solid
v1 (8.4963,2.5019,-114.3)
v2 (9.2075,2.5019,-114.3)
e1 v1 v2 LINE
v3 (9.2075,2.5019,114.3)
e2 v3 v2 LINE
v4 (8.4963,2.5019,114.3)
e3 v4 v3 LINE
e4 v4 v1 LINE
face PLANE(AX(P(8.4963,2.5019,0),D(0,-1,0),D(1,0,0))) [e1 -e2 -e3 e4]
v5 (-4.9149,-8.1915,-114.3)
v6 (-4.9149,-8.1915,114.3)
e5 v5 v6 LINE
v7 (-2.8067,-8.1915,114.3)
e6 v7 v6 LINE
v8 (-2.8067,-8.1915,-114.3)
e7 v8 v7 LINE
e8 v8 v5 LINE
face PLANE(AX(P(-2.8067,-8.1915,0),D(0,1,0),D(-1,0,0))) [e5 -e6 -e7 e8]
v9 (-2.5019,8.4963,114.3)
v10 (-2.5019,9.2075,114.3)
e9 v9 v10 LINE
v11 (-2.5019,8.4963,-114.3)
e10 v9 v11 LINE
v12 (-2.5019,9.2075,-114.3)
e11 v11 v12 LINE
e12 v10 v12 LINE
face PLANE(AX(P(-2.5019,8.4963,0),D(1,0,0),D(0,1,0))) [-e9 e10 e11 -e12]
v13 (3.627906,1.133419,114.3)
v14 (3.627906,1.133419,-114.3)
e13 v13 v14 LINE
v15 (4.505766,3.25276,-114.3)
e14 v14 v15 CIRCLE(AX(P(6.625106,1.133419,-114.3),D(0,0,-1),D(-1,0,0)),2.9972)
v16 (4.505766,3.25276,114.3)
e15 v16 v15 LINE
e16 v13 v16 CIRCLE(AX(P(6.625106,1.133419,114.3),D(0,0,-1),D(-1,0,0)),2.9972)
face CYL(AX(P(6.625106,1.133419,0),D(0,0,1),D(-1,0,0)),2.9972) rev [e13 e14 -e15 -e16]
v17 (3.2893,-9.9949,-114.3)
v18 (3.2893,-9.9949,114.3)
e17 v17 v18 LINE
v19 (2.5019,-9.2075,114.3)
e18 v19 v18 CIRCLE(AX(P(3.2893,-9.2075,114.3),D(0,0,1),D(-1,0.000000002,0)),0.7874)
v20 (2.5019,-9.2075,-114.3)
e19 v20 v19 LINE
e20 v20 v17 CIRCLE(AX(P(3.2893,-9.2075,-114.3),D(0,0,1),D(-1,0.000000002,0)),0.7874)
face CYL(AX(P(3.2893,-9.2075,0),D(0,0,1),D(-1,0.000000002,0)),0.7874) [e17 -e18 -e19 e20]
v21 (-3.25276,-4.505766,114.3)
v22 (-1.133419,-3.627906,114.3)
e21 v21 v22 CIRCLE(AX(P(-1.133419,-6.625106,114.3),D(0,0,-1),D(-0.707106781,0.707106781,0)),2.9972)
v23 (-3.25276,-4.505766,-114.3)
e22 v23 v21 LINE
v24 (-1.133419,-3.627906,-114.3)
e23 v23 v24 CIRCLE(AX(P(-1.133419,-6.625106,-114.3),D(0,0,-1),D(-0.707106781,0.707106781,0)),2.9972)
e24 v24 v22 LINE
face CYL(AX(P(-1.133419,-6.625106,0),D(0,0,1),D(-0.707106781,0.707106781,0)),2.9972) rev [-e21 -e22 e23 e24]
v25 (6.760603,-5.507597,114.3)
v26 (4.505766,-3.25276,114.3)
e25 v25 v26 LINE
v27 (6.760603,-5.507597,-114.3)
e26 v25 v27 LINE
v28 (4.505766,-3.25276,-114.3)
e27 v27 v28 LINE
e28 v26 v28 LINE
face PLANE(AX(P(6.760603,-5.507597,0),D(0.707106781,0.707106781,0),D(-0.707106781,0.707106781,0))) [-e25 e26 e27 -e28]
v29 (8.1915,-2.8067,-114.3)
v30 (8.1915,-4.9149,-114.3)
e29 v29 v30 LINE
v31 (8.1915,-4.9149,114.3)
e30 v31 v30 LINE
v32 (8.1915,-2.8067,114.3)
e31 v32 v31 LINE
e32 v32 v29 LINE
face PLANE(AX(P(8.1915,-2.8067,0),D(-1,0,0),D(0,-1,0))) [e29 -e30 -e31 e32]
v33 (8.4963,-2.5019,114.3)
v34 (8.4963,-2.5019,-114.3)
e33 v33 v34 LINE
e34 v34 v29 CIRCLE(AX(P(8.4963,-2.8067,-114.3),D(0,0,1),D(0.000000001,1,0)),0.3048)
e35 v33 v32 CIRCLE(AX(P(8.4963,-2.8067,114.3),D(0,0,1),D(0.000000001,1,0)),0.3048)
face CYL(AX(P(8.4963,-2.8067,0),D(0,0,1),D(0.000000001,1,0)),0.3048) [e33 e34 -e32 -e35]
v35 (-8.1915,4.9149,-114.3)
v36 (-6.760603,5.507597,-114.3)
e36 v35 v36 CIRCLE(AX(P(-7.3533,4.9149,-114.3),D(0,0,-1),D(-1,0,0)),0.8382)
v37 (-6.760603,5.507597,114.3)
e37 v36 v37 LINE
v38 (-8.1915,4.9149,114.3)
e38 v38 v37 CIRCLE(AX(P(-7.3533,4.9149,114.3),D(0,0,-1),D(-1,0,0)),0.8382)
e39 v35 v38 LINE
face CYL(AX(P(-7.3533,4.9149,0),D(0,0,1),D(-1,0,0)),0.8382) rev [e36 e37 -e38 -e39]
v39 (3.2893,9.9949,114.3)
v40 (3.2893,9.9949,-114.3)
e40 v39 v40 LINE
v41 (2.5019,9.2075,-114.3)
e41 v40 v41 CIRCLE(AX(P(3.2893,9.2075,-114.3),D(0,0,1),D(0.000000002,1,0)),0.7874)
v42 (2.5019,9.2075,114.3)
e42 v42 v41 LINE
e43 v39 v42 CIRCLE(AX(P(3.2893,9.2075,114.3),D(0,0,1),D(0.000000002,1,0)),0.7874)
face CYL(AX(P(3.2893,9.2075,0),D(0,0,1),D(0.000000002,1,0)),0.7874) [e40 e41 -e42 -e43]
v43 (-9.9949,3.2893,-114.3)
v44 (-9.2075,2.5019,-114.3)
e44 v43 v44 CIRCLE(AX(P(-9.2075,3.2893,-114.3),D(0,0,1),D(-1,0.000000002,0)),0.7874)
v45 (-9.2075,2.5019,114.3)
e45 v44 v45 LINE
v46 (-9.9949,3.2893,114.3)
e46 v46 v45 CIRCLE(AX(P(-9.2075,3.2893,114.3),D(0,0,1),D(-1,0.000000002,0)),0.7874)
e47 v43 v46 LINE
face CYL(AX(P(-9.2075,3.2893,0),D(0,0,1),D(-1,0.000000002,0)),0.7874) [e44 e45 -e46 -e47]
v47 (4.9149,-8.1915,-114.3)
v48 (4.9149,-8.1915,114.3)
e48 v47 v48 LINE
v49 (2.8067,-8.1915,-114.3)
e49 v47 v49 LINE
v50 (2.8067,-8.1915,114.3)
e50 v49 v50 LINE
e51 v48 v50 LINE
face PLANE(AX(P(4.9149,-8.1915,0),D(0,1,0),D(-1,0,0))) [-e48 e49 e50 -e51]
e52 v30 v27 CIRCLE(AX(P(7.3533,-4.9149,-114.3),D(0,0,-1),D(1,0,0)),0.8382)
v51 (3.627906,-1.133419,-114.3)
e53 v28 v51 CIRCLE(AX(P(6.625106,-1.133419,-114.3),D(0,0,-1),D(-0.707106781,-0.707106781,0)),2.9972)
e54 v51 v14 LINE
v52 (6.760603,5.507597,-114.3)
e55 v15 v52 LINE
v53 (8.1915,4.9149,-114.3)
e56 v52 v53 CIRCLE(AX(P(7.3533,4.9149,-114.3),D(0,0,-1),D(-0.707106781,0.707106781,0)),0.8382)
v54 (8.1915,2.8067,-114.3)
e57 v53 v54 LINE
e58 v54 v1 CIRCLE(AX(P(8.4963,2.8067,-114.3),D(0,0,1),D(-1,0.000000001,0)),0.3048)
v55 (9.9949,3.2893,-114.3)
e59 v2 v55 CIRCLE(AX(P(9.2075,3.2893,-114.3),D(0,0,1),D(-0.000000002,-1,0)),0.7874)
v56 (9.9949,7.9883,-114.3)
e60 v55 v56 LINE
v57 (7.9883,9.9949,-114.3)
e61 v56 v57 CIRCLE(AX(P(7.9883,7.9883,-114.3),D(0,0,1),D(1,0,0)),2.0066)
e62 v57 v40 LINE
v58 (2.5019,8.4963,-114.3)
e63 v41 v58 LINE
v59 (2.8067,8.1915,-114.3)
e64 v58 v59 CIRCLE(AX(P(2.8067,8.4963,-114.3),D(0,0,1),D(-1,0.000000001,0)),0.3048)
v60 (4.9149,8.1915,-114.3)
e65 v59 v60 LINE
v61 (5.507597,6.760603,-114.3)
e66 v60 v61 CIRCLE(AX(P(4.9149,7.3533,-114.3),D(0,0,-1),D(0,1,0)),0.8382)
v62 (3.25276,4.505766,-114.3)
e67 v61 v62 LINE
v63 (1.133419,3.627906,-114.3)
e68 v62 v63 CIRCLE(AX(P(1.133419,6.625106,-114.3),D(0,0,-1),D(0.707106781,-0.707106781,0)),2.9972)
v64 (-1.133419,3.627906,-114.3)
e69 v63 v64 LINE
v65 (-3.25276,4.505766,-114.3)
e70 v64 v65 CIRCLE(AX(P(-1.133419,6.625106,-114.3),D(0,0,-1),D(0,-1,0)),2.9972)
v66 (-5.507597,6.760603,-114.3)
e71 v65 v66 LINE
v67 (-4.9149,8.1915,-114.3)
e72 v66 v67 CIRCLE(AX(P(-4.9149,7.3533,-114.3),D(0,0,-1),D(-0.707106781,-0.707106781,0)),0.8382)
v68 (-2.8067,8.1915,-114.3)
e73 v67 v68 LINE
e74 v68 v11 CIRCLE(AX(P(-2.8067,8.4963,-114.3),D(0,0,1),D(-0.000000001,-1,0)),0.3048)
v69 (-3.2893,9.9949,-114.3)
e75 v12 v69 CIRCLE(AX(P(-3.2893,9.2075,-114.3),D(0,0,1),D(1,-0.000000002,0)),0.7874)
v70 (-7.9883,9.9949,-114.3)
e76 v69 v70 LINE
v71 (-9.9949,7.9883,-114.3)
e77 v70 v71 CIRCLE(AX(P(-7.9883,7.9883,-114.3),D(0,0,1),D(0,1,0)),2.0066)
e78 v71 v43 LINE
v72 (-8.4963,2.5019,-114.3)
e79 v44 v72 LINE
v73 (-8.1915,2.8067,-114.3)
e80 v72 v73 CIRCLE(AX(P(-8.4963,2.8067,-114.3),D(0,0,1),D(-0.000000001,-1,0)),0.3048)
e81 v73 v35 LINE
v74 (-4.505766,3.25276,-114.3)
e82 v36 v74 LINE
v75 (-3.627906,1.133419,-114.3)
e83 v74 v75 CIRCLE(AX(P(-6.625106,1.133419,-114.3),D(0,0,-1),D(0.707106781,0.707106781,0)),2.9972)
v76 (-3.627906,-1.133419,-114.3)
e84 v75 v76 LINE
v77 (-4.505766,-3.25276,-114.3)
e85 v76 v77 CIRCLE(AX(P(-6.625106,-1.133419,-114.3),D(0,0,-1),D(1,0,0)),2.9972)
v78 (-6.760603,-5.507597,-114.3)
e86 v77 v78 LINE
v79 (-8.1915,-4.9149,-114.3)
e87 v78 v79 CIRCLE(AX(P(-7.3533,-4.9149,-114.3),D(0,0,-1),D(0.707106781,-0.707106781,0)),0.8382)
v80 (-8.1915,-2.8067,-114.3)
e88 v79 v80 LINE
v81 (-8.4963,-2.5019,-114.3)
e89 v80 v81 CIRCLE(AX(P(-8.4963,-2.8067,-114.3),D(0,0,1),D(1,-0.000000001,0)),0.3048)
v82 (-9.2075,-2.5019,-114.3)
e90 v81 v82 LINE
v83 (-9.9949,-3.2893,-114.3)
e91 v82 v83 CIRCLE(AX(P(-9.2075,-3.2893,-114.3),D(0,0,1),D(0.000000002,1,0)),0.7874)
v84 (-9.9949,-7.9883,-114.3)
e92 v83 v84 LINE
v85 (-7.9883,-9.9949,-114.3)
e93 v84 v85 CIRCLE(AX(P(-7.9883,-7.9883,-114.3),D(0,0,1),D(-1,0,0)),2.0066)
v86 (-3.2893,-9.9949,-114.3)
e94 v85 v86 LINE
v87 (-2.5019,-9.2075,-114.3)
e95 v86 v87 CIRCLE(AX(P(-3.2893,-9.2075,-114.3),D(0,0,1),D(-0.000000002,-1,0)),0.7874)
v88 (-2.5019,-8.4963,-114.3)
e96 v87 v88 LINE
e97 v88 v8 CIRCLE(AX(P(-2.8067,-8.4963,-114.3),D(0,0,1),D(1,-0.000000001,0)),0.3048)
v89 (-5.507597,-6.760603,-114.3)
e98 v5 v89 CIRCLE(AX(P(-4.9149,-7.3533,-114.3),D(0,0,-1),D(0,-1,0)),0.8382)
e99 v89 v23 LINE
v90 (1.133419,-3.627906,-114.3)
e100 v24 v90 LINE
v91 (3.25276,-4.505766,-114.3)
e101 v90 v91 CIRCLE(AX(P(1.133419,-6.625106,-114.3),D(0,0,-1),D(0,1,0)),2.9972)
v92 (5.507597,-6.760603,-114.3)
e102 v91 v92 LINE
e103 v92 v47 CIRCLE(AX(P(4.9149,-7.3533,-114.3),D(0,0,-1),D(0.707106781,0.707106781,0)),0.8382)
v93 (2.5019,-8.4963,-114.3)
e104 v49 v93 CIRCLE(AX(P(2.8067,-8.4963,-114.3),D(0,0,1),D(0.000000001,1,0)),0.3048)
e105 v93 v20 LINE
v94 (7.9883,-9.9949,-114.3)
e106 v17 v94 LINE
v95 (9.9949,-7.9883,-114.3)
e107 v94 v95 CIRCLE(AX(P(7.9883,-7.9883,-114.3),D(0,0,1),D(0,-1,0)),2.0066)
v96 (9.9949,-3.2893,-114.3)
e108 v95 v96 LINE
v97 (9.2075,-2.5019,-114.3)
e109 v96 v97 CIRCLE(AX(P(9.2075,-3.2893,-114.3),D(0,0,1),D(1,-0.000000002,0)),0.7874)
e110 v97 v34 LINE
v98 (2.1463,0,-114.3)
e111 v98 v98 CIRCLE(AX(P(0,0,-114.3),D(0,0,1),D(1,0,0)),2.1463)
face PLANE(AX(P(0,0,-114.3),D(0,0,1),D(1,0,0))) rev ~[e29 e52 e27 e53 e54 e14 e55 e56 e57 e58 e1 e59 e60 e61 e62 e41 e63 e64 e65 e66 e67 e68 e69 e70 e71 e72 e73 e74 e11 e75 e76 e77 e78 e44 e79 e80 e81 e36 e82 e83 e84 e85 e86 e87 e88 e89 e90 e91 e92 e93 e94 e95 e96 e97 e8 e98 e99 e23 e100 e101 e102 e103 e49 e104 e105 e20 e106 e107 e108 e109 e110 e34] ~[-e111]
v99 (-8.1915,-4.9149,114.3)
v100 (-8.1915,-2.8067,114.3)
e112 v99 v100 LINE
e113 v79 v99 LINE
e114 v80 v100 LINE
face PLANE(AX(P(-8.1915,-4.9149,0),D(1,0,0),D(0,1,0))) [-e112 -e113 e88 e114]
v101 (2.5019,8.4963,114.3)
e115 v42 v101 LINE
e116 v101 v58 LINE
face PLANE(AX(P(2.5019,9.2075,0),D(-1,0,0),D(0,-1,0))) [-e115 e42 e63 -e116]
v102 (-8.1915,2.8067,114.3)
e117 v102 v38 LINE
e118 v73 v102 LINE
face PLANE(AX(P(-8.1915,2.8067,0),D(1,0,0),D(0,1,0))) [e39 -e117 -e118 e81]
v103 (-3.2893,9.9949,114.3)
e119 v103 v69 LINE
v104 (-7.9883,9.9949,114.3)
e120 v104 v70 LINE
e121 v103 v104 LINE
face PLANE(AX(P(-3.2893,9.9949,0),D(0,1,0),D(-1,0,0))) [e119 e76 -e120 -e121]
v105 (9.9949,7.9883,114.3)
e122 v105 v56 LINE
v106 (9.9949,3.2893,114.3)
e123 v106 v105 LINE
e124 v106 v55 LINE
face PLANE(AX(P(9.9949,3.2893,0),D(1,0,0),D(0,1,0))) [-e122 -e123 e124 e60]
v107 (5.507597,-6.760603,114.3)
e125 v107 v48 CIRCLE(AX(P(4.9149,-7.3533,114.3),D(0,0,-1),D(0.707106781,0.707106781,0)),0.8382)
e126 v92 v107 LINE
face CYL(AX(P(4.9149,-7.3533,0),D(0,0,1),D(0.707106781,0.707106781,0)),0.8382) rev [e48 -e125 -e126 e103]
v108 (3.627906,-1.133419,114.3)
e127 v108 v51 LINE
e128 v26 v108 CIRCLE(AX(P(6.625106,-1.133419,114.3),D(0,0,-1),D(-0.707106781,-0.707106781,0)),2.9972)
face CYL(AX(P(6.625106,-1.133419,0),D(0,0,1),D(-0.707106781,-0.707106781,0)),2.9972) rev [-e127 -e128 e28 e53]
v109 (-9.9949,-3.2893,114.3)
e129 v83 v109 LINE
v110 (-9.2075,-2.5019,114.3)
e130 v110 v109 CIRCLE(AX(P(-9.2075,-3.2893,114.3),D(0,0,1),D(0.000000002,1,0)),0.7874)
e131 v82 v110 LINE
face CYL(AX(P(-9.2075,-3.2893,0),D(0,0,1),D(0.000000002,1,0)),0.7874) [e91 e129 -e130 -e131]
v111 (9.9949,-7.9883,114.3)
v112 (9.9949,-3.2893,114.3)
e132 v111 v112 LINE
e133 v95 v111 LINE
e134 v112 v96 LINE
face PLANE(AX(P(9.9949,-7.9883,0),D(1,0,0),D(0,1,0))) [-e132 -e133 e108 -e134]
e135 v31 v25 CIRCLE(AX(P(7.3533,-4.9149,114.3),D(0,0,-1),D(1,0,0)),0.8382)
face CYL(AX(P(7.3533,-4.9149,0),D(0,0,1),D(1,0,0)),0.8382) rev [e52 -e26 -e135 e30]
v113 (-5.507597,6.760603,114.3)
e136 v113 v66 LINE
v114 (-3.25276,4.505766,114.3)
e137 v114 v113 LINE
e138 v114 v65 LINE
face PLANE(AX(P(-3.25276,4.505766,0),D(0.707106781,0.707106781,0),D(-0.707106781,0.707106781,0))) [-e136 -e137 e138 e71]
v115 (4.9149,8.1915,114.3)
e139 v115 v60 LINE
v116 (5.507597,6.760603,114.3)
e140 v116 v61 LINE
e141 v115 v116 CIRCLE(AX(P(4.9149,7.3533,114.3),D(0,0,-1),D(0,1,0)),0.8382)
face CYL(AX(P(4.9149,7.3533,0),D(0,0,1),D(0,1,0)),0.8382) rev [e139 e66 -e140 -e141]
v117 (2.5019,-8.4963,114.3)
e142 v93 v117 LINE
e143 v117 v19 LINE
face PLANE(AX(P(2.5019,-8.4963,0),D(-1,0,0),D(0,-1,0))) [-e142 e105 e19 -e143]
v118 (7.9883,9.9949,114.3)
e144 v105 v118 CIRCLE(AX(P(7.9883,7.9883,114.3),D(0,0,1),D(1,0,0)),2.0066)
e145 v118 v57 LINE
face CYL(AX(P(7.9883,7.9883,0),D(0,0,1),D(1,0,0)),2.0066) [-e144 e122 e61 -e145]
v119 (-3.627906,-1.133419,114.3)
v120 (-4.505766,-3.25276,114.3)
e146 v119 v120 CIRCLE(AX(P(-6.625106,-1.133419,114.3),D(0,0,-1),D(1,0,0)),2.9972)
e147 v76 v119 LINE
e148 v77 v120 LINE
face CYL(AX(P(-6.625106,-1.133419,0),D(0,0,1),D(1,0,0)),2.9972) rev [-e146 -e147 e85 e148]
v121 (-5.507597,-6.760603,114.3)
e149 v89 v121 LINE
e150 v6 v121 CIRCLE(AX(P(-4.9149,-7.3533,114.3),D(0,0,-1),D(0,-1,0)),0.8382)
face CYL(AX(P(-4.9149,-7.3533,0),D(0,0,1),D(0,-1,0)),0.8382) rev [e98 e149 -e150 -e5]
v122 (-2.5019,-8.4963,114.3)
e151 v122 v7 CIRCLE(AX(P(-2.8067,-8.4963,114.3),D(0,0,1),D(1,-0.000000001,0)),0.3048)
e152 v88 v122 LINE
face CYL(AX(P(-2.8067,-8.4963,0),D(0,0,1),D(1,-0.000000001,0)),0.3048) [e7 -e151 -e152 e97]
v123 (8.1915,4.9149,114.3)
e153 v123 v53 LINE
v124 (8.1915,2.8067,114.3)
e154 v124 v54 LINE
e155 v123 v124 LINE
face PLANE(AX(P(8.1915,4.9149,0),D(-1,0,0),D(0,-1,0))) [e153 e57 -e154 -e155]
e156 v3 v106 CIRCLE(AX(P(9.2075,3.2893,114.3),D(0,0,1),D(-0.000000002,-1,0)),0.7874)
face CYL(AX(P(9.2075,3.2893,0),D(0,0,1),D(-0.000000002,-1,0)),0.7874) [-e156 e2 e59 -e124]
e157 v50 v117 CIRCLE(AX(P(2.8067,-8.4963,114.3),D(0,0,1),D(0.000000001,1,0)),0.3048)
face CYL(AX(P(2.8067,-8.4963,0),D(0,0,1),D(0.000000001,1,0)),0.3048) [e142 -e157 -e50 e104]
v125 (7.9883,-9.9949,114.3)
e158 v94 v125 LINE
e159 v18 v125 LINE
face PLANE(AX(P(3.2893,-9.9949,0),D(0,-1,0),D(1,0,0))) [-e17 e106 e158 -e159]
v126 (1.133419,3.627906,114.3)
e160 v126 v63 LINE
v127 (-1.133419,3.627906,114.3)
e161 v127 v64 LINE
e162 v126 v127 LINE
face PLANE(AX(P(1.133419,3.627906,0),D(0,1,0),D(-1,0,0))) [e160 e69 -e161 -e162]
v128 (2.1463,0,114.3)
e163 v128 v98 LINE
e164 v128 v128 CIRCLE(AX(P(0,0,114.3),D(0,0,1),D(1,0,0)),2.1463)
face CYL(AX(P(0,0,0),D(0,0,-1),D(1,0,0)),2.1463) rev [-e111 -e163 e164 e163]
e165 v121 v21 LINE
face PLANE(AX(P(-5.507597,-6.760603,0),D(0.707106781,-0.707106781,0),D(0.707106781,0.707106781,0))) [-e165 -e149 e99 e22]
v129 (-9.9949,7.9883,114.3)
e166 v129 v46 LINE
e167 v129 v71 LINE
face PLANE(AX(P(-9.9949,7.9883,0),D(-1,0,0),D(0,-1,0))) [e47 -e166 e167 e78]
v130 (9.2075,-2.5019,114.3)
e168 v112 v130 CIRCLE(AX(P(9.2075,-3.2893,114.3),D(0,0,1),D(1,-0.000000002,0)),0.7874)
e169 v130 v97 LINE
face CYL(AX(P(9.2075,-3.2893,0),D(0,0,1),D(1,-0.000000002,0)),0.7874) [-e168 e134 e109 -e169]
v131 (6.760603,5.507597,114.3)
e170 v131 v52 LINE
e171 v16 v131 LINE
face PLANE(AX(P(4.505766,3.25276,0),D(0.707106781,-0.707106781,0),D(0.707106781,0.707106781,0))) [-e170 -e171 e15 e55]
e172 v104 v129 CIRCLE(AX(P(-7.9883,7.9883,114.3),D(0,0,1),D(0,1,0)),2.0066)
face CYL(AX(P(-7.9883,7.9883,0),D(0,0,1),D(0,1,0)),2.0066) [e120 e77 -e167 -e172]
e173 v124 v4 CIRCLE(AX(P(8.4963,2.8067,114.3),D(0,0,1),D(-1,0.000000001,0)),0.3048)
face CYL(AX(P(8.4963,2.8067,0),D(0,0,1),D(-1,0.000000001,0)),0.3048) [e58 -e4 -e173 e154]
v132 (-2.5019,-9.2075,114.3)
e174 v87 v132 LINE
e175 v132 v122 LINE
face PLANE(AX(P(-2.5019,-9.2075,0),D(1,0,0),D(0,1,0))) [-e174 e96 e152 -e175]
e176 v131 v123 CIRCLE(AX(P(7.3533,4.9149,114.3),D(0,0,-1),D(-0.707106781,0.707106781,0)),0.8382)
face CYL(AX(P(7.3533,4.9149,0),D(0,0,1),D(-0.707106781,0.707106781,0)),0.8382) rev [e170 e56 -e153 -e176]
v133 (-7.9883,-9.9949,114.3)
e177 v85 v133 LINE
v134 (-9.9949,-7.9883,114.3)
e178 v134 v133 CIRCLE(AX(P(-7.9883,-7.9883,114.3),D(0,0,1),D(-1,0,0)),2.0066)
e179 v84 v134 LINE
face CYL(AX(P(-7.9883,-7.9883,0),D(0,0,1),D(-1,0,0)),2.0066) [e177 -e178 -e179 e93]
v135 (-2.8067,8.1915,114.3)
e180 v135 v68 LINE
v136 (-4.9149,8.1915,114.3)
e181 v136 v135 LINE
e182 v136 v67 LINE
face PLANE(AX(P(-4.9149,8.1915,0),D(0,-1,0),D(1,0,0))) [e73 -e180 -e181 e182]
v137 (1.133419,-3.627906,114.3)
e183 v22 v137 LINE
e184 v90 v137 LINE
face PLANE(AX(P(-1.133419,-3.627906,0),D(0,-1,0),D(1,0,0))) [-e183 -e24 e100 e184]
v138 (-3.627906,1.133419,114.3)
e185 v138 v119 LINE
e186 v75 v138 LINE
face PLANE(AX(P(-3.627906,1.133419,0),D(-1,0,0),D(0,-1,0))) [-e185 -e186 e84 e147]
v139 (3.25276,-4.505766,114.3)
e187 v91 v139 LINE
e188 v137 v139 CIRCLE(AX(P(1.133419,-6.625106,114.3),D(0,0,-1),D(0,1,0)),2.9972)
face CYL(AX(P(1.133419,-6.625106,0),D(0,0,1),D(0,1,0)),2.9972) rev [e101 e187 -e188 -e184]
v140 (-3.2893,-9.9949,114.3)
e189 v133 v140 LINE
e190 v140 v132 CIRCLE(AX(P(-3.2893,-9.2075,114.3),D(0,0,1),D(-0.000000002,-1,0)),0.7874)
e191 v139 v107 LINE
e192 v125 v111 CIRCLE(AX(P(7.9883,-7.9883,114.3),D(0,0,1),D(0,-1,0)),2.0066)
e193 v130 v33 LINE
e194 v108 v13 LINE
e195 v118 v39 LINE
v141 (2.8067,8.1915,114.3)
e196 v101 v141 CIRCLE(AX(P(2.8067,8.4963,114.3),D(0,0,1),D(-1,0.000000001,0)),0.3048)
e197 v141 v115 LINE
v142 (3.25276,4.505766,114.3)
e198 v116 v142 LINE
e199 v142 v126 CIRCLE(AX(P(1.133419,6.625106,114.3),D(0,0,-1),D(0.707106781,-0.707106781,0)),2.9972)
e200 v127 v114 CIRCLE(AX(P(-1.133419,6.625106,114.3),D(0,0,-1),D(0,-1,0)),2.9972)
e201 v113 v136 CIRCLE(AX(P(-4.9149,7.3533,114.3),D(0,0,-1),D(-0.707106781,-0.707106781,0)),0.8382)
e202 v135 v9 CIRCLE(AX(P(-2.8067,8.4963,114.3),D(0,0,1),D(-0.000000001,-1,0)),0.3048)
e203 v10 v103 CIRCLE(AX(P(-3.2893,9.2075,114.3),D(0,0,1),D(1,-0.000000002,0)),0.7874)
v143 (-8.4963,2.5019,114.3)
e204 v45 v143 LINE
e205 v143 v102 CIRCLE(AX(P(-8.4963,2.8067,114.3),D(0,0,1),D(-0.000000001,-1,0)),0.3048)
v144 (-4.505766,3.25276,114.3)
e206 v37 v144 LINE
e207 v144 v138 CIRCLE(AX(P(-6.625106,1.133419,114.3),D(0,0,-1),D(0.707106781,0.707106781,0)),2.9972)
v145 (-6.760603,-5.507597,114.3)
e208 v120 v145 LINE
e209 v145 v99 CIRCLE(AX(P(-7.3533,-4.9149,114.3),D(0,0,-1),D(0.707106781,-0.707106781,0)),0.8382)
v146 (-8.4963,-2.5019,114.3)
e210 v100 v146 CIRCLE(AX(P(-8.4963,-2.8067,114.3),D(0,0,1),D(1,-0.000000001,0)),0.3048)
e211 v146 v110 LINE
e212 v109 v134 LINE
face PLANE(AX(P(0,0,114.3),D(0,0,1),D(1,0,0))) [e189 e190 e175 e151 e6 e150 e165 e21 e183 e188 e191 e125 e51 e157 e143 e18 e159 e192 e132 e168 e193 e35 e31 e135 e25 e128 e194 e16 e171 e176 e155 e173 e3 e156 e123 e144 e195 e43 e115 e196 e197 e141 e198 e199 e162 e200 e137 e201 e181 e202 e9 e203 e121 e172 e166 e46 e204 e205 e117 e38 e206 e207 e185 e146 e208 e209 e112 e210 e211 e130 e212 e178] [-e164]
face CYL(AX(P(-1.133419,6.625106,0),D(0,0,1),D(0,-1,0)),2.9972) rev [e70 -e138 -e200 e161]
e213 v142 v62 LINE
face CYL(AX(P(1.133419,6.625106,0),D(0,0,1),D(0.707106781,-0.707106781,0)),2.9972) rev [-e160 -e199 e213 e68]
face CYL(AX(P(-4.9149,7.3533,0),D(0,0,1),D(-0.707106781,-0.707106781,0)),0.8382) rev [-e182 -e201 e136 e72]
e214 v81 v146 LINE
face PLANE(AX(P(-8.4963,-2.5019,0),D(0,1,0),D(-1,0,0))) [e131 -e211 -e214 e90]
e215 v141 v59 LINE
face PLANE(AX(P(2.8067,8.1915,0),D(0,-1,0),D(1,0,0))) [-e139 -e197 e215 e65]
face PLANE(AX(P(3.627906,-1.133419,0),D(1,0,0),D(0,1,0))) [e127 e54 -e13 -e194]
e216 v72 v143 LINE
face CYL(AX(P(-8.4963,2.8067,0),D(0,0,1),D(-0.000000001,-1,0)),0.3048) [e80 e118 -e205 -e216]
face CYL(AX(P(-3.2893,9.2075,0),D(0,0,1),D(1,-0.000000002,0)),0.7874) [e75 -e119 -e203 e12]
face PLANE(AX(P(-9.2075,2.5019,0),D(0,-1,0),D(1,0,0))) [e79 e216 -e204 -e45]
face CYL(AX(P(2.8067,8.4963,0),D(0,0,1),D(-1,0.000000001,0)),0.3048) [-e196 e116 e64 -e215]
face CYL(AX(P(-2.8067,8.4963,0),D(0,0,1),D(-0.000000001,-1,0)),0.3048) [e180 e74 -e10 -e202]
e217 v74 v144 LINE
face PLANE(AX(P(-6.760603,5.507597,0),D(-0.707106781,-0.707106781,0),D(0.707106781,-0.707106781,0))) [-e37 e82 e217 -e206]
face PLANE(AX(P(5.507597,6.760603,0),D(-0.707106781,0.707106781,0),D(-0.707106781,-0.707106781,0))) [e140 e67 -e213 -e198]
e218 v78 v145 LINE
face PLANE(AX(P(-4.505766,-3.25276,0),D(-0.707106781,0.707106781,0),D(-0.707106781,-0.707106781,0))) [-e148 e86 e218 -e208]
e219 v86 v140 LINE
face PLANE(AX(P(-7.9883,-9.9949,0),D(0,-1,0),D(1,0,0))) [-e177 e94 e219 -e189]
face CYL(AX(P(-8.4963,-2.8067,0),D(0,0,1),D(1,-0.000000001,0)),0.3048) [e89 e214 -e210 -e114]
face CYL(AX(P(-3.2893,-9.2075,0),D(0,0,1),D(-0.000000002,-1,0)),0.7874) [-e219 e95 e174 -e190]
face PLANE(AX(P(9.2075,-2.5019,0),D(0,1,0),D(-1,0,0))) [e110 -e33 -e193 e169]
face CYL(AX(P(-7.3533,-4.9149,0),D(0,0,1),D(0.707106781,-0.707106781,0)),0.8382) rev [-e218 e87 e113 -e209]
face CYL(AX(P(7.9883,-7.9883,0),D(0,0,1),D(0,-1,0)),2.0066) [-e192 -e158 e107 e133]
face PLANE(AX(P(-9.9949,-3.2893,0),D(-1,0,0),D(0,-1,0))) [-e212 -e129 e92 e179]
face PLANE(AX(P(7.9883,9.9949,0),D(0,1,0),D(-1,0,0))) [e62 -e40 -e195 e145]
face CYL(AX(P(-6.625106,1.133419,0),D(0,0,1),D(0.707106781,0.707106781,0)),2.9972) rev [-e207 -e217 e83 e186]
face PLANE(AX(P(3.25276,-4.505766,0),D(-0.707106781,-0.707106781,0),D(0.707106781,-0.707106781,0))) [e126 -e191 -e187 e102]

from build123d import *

# Parameters (mm, degrees)
SKETCH1_R           = 2.1463
BOSS_EXTRUDE1_DEPTH = 114.3


with BuildPart() as part:
    # Sketch1 → Boss-Extrude1 (new, symmetric)
    with BuildSketch(Plane.XY):
        with BuildLine():
            Line((-9.9949, 7.9883), (-9.9949, 3.2893))
            ThreePointArc((-9.9949, 3.2893), (-9.76427588, 2.73252412), (-9.2075, 2.5019))
            Line((-9.2075, 2.5019), (-8.4963, 2.5019))
            ThreePointArc((-8.4963, 2.5019), (-8.280773853, 2.591173853), (-8.1915, 2.8067))
            Line((-8.1915, 2.8067), (-8.1915, 4.9149))
            ThreePointArc((-8.1915, 4.9149), (-7.674065253, 5.689295824), (-6.760603096, 5.507596904))
            Line((-6.760603096, 5.507596904), (-4.505765747, 3.252759555))
            ThreePointArc((-4.505765747, 3.252759555), (-3.856054457, 2.280397894), (-3.627906192, 1.133419111))
            Line((-3.627906192, 1.133419111), (-3.627906192, -1.133419111))
            ThreePointArc((-3.627906192, -1.133419111), (-3.856054457, -2.280397894), (-4.505765747, -3.252759555))
            Line((-4.505765747, -3.252759555), (-6.760603096, -5.507596904))
            ThreePointArc((-6.760603096, -5.507596904), (-7.674065253, -5.689295824), (-8.1915, -4.9149))
            Line((-8.1915, -4.9149), (-8.1915, -2.8067))
            ThreePointArc((-8.1915, -2.8067), (-8.280773853, -2.591173853), (-8.4963, -2.5019))
            Line((-8.4963, -2.5019), (-9.2075, -2.5019))
            ThreePointArc((-9.2075, -2.5019), (-9.76427588, -2.73252412), (-9.9949, -3.2893))
            Line((-9.9949, -3.2893), (-9.9949, -7.9883))
            ThreePointArc((-9.9949, -7.9883), (-9.407180467, -9.407180467), (-7.9883, -9.9949))
            Line((-7.9883, -9.9949), (-3.2893, -9.9949))
            ThreePointArc((-3.2893, -9.9949), (-2.73252412, -9.76427588), (-2.5019, -9.2075))
            Line((-2.5019, -9.2075), (-2.5019, -8.4963))
            ThreePointArc((-2.5019, -8.4963), (-2.591173853, -8.280773853), (-2.8067, -8.1915))
            Line((-2.8067, -8.1915), (-4.9149, -8.1915))
            ThreePointArc((-4.9149, -8.1915), (-5.689295824, -7.674065253), (-5.507596904, -6.760603096))
            Line((-5.507596904, -6.760603096), (-3.252759555, -4.505765747))
            ThreePointArc((-3.252759555, -4.505765747), (-2.280397894, -3.856054457), (-1.133419111, -3.627906192))
            Line((-1.133419111, -3.627906192), (1.133419111, -3.627906192))
            ThreePointArc((1.133419111, -3.627906192), (2.280397894, -3.856054457), (3.252759555, -4.505765747))
            Line((3.252759555, -4.505765747), (5.507596904, -6.760603096))
            ThreePointArc((5.507596904, -6.760603096), (5.689295824, -7.674065253), (4.9149, -8.1915))
            Line((4.9149, -8.1915), (2.8067, -8.1915))
            ThreePointArc((2.8067, -8.1915), (2.591173853, -8.280773853), (2.5019, -8.4963))
            Line((2.5019, -8.4963), (2.5019, -9.2075))
            ThreePointArc((2.5019, -9.2075), (2.73252412, -9.76427588), (3.2893, -9.9949))
            Line((3.2893, -9.9949), (7.9883, -9.9949))
            ThreePointArc((7.9883, -9.9949), (9.407180467, -9.407180467), (9.9949, -7.9883))
            Line((9.9949, -7.9883), (9.9949, -3.2893))
            ThreePointArc((9.9949, -3.2893), (9.76427588, -2.73252412), (9.2075, -2.5019))
            Line((9.2075, -2.5019), (8.4963, -2.5019))
            ThreePointArc((8.4963, -2.5019), (8.280773853, -2.591173853), (8.1915, -2.8067))
            Line((8.1915, -2.8067), (8.1915, -4.9149))
            ThreePointArc((8.1915, -4.9149), (7.674065253, -5.689295824), (6.760603096, -5.507596904))
            Line((6.760603096, -5.507596904), (4.505765747, -3.252759555))
            ThreePointArc((4.505765747, -3.252759555), (3.856054457, -2.280397894), (3.627906192, -1.133419111))
            Line((3.627906192, -1.133419111), (3.627906192, 1.133419111))
            ThreePointArc((3.627906192, 1.133419111), (3.856054457, 2.280397894), (4.505765747, 3.252759555))
            Line((4.505765747, 3.252759555), (6.760603096, 5.507596904))
            ThreePointArc((6.760603096, 5.507596904), (7.674065253, 5.689295824), (8.1915, 4.9149))
            Line((8.1915, 4.9149), (8.1915, 2.8067))
            ThreePointArc((8.1915, 2.8067), (8.280773853, 2.591173853), (8.4963, 2.5019))
            Line((8.4963, 2.5019), (9.2075, 2.5019))
            ThreePointArc((9.2075, 2.5019), (9.76427588, 2.73252412), (9.9949, 3.2893))
            Line((9.9949, 3.2893), (9.9949, 7.9883))
            ThreePointArc((9.9949, 7.9883), (9.407180467, 9.407180467), (7.9883, 9.9949))
            Line((7.9883, 9.9949), (3.2893, 9.9949))
            ThreePointArc((3.2893, 9.9949), (2.73252412, 9.76427588), (2.5019, 9.2075))
            Line((2.5019, 9.2075), (2.5019, 8.4963))
            ThreePointArc((2.5019, 8.4963), (2.591173853, 8.280773853), (2.8067, 8.1915))
            Line((2.8067, 8.1915), (4.9149, 8.1915))
            ThreePointArc((4.9149, 8.1915), (5.689295824, 7.674065253), (5.507596904, 6.760603096))
            Line((5.507596904, 6.760603096), (3.252759555, 4.505765747))
            ThreePointArc((3.252759555, 4.505765747), (2.280397894, 3.856054457), (1.133419111, 3.627906192))
            Line((1.133419111, 3.627906192), (-1.133419111, 3.627906192))
            ThreePointArc((-1.133419111, 3.627906192), (-2.280397894, 3.856054457), (-3.252759555, 4.505765747))
            Line((-3.252759555, 4.505765747), (-5.507596904, 6.760603096))
            ThreePointArc((-5.507596904, 6.760603096), (-5.689295824, 7.674065253), (-4.9149, 8.1915))
            Line((-4.9149, 8.1915), (-2.8067, 8.1915))
            ThreePointArc((-2.8067, 8.1915), (-2.591173853, 8.280773853), (-2.5019, 8.4963))
            Line((-2.5019, 8.4963), (-2.5019, 9.2075))
            ThreePointArc((-2.5019, 9.2075), (-2.73252412, 9.76427588), (-3.2893, 9.9949))
            Line((-3.2893, 9.9949), (-7.9883, 9.9949))
            ThreePointArc((-7.9883, 9.9949), (-9.407180467, 9.407180467), (-9.9949, 7.9883))
        make_face()
        Circle(SKETCH1_R, mode=Mode.SUBTRACT)
    extrude(amount=BOSS_EXTRUDE1_DEPTH, both=True)


solid = part.part
